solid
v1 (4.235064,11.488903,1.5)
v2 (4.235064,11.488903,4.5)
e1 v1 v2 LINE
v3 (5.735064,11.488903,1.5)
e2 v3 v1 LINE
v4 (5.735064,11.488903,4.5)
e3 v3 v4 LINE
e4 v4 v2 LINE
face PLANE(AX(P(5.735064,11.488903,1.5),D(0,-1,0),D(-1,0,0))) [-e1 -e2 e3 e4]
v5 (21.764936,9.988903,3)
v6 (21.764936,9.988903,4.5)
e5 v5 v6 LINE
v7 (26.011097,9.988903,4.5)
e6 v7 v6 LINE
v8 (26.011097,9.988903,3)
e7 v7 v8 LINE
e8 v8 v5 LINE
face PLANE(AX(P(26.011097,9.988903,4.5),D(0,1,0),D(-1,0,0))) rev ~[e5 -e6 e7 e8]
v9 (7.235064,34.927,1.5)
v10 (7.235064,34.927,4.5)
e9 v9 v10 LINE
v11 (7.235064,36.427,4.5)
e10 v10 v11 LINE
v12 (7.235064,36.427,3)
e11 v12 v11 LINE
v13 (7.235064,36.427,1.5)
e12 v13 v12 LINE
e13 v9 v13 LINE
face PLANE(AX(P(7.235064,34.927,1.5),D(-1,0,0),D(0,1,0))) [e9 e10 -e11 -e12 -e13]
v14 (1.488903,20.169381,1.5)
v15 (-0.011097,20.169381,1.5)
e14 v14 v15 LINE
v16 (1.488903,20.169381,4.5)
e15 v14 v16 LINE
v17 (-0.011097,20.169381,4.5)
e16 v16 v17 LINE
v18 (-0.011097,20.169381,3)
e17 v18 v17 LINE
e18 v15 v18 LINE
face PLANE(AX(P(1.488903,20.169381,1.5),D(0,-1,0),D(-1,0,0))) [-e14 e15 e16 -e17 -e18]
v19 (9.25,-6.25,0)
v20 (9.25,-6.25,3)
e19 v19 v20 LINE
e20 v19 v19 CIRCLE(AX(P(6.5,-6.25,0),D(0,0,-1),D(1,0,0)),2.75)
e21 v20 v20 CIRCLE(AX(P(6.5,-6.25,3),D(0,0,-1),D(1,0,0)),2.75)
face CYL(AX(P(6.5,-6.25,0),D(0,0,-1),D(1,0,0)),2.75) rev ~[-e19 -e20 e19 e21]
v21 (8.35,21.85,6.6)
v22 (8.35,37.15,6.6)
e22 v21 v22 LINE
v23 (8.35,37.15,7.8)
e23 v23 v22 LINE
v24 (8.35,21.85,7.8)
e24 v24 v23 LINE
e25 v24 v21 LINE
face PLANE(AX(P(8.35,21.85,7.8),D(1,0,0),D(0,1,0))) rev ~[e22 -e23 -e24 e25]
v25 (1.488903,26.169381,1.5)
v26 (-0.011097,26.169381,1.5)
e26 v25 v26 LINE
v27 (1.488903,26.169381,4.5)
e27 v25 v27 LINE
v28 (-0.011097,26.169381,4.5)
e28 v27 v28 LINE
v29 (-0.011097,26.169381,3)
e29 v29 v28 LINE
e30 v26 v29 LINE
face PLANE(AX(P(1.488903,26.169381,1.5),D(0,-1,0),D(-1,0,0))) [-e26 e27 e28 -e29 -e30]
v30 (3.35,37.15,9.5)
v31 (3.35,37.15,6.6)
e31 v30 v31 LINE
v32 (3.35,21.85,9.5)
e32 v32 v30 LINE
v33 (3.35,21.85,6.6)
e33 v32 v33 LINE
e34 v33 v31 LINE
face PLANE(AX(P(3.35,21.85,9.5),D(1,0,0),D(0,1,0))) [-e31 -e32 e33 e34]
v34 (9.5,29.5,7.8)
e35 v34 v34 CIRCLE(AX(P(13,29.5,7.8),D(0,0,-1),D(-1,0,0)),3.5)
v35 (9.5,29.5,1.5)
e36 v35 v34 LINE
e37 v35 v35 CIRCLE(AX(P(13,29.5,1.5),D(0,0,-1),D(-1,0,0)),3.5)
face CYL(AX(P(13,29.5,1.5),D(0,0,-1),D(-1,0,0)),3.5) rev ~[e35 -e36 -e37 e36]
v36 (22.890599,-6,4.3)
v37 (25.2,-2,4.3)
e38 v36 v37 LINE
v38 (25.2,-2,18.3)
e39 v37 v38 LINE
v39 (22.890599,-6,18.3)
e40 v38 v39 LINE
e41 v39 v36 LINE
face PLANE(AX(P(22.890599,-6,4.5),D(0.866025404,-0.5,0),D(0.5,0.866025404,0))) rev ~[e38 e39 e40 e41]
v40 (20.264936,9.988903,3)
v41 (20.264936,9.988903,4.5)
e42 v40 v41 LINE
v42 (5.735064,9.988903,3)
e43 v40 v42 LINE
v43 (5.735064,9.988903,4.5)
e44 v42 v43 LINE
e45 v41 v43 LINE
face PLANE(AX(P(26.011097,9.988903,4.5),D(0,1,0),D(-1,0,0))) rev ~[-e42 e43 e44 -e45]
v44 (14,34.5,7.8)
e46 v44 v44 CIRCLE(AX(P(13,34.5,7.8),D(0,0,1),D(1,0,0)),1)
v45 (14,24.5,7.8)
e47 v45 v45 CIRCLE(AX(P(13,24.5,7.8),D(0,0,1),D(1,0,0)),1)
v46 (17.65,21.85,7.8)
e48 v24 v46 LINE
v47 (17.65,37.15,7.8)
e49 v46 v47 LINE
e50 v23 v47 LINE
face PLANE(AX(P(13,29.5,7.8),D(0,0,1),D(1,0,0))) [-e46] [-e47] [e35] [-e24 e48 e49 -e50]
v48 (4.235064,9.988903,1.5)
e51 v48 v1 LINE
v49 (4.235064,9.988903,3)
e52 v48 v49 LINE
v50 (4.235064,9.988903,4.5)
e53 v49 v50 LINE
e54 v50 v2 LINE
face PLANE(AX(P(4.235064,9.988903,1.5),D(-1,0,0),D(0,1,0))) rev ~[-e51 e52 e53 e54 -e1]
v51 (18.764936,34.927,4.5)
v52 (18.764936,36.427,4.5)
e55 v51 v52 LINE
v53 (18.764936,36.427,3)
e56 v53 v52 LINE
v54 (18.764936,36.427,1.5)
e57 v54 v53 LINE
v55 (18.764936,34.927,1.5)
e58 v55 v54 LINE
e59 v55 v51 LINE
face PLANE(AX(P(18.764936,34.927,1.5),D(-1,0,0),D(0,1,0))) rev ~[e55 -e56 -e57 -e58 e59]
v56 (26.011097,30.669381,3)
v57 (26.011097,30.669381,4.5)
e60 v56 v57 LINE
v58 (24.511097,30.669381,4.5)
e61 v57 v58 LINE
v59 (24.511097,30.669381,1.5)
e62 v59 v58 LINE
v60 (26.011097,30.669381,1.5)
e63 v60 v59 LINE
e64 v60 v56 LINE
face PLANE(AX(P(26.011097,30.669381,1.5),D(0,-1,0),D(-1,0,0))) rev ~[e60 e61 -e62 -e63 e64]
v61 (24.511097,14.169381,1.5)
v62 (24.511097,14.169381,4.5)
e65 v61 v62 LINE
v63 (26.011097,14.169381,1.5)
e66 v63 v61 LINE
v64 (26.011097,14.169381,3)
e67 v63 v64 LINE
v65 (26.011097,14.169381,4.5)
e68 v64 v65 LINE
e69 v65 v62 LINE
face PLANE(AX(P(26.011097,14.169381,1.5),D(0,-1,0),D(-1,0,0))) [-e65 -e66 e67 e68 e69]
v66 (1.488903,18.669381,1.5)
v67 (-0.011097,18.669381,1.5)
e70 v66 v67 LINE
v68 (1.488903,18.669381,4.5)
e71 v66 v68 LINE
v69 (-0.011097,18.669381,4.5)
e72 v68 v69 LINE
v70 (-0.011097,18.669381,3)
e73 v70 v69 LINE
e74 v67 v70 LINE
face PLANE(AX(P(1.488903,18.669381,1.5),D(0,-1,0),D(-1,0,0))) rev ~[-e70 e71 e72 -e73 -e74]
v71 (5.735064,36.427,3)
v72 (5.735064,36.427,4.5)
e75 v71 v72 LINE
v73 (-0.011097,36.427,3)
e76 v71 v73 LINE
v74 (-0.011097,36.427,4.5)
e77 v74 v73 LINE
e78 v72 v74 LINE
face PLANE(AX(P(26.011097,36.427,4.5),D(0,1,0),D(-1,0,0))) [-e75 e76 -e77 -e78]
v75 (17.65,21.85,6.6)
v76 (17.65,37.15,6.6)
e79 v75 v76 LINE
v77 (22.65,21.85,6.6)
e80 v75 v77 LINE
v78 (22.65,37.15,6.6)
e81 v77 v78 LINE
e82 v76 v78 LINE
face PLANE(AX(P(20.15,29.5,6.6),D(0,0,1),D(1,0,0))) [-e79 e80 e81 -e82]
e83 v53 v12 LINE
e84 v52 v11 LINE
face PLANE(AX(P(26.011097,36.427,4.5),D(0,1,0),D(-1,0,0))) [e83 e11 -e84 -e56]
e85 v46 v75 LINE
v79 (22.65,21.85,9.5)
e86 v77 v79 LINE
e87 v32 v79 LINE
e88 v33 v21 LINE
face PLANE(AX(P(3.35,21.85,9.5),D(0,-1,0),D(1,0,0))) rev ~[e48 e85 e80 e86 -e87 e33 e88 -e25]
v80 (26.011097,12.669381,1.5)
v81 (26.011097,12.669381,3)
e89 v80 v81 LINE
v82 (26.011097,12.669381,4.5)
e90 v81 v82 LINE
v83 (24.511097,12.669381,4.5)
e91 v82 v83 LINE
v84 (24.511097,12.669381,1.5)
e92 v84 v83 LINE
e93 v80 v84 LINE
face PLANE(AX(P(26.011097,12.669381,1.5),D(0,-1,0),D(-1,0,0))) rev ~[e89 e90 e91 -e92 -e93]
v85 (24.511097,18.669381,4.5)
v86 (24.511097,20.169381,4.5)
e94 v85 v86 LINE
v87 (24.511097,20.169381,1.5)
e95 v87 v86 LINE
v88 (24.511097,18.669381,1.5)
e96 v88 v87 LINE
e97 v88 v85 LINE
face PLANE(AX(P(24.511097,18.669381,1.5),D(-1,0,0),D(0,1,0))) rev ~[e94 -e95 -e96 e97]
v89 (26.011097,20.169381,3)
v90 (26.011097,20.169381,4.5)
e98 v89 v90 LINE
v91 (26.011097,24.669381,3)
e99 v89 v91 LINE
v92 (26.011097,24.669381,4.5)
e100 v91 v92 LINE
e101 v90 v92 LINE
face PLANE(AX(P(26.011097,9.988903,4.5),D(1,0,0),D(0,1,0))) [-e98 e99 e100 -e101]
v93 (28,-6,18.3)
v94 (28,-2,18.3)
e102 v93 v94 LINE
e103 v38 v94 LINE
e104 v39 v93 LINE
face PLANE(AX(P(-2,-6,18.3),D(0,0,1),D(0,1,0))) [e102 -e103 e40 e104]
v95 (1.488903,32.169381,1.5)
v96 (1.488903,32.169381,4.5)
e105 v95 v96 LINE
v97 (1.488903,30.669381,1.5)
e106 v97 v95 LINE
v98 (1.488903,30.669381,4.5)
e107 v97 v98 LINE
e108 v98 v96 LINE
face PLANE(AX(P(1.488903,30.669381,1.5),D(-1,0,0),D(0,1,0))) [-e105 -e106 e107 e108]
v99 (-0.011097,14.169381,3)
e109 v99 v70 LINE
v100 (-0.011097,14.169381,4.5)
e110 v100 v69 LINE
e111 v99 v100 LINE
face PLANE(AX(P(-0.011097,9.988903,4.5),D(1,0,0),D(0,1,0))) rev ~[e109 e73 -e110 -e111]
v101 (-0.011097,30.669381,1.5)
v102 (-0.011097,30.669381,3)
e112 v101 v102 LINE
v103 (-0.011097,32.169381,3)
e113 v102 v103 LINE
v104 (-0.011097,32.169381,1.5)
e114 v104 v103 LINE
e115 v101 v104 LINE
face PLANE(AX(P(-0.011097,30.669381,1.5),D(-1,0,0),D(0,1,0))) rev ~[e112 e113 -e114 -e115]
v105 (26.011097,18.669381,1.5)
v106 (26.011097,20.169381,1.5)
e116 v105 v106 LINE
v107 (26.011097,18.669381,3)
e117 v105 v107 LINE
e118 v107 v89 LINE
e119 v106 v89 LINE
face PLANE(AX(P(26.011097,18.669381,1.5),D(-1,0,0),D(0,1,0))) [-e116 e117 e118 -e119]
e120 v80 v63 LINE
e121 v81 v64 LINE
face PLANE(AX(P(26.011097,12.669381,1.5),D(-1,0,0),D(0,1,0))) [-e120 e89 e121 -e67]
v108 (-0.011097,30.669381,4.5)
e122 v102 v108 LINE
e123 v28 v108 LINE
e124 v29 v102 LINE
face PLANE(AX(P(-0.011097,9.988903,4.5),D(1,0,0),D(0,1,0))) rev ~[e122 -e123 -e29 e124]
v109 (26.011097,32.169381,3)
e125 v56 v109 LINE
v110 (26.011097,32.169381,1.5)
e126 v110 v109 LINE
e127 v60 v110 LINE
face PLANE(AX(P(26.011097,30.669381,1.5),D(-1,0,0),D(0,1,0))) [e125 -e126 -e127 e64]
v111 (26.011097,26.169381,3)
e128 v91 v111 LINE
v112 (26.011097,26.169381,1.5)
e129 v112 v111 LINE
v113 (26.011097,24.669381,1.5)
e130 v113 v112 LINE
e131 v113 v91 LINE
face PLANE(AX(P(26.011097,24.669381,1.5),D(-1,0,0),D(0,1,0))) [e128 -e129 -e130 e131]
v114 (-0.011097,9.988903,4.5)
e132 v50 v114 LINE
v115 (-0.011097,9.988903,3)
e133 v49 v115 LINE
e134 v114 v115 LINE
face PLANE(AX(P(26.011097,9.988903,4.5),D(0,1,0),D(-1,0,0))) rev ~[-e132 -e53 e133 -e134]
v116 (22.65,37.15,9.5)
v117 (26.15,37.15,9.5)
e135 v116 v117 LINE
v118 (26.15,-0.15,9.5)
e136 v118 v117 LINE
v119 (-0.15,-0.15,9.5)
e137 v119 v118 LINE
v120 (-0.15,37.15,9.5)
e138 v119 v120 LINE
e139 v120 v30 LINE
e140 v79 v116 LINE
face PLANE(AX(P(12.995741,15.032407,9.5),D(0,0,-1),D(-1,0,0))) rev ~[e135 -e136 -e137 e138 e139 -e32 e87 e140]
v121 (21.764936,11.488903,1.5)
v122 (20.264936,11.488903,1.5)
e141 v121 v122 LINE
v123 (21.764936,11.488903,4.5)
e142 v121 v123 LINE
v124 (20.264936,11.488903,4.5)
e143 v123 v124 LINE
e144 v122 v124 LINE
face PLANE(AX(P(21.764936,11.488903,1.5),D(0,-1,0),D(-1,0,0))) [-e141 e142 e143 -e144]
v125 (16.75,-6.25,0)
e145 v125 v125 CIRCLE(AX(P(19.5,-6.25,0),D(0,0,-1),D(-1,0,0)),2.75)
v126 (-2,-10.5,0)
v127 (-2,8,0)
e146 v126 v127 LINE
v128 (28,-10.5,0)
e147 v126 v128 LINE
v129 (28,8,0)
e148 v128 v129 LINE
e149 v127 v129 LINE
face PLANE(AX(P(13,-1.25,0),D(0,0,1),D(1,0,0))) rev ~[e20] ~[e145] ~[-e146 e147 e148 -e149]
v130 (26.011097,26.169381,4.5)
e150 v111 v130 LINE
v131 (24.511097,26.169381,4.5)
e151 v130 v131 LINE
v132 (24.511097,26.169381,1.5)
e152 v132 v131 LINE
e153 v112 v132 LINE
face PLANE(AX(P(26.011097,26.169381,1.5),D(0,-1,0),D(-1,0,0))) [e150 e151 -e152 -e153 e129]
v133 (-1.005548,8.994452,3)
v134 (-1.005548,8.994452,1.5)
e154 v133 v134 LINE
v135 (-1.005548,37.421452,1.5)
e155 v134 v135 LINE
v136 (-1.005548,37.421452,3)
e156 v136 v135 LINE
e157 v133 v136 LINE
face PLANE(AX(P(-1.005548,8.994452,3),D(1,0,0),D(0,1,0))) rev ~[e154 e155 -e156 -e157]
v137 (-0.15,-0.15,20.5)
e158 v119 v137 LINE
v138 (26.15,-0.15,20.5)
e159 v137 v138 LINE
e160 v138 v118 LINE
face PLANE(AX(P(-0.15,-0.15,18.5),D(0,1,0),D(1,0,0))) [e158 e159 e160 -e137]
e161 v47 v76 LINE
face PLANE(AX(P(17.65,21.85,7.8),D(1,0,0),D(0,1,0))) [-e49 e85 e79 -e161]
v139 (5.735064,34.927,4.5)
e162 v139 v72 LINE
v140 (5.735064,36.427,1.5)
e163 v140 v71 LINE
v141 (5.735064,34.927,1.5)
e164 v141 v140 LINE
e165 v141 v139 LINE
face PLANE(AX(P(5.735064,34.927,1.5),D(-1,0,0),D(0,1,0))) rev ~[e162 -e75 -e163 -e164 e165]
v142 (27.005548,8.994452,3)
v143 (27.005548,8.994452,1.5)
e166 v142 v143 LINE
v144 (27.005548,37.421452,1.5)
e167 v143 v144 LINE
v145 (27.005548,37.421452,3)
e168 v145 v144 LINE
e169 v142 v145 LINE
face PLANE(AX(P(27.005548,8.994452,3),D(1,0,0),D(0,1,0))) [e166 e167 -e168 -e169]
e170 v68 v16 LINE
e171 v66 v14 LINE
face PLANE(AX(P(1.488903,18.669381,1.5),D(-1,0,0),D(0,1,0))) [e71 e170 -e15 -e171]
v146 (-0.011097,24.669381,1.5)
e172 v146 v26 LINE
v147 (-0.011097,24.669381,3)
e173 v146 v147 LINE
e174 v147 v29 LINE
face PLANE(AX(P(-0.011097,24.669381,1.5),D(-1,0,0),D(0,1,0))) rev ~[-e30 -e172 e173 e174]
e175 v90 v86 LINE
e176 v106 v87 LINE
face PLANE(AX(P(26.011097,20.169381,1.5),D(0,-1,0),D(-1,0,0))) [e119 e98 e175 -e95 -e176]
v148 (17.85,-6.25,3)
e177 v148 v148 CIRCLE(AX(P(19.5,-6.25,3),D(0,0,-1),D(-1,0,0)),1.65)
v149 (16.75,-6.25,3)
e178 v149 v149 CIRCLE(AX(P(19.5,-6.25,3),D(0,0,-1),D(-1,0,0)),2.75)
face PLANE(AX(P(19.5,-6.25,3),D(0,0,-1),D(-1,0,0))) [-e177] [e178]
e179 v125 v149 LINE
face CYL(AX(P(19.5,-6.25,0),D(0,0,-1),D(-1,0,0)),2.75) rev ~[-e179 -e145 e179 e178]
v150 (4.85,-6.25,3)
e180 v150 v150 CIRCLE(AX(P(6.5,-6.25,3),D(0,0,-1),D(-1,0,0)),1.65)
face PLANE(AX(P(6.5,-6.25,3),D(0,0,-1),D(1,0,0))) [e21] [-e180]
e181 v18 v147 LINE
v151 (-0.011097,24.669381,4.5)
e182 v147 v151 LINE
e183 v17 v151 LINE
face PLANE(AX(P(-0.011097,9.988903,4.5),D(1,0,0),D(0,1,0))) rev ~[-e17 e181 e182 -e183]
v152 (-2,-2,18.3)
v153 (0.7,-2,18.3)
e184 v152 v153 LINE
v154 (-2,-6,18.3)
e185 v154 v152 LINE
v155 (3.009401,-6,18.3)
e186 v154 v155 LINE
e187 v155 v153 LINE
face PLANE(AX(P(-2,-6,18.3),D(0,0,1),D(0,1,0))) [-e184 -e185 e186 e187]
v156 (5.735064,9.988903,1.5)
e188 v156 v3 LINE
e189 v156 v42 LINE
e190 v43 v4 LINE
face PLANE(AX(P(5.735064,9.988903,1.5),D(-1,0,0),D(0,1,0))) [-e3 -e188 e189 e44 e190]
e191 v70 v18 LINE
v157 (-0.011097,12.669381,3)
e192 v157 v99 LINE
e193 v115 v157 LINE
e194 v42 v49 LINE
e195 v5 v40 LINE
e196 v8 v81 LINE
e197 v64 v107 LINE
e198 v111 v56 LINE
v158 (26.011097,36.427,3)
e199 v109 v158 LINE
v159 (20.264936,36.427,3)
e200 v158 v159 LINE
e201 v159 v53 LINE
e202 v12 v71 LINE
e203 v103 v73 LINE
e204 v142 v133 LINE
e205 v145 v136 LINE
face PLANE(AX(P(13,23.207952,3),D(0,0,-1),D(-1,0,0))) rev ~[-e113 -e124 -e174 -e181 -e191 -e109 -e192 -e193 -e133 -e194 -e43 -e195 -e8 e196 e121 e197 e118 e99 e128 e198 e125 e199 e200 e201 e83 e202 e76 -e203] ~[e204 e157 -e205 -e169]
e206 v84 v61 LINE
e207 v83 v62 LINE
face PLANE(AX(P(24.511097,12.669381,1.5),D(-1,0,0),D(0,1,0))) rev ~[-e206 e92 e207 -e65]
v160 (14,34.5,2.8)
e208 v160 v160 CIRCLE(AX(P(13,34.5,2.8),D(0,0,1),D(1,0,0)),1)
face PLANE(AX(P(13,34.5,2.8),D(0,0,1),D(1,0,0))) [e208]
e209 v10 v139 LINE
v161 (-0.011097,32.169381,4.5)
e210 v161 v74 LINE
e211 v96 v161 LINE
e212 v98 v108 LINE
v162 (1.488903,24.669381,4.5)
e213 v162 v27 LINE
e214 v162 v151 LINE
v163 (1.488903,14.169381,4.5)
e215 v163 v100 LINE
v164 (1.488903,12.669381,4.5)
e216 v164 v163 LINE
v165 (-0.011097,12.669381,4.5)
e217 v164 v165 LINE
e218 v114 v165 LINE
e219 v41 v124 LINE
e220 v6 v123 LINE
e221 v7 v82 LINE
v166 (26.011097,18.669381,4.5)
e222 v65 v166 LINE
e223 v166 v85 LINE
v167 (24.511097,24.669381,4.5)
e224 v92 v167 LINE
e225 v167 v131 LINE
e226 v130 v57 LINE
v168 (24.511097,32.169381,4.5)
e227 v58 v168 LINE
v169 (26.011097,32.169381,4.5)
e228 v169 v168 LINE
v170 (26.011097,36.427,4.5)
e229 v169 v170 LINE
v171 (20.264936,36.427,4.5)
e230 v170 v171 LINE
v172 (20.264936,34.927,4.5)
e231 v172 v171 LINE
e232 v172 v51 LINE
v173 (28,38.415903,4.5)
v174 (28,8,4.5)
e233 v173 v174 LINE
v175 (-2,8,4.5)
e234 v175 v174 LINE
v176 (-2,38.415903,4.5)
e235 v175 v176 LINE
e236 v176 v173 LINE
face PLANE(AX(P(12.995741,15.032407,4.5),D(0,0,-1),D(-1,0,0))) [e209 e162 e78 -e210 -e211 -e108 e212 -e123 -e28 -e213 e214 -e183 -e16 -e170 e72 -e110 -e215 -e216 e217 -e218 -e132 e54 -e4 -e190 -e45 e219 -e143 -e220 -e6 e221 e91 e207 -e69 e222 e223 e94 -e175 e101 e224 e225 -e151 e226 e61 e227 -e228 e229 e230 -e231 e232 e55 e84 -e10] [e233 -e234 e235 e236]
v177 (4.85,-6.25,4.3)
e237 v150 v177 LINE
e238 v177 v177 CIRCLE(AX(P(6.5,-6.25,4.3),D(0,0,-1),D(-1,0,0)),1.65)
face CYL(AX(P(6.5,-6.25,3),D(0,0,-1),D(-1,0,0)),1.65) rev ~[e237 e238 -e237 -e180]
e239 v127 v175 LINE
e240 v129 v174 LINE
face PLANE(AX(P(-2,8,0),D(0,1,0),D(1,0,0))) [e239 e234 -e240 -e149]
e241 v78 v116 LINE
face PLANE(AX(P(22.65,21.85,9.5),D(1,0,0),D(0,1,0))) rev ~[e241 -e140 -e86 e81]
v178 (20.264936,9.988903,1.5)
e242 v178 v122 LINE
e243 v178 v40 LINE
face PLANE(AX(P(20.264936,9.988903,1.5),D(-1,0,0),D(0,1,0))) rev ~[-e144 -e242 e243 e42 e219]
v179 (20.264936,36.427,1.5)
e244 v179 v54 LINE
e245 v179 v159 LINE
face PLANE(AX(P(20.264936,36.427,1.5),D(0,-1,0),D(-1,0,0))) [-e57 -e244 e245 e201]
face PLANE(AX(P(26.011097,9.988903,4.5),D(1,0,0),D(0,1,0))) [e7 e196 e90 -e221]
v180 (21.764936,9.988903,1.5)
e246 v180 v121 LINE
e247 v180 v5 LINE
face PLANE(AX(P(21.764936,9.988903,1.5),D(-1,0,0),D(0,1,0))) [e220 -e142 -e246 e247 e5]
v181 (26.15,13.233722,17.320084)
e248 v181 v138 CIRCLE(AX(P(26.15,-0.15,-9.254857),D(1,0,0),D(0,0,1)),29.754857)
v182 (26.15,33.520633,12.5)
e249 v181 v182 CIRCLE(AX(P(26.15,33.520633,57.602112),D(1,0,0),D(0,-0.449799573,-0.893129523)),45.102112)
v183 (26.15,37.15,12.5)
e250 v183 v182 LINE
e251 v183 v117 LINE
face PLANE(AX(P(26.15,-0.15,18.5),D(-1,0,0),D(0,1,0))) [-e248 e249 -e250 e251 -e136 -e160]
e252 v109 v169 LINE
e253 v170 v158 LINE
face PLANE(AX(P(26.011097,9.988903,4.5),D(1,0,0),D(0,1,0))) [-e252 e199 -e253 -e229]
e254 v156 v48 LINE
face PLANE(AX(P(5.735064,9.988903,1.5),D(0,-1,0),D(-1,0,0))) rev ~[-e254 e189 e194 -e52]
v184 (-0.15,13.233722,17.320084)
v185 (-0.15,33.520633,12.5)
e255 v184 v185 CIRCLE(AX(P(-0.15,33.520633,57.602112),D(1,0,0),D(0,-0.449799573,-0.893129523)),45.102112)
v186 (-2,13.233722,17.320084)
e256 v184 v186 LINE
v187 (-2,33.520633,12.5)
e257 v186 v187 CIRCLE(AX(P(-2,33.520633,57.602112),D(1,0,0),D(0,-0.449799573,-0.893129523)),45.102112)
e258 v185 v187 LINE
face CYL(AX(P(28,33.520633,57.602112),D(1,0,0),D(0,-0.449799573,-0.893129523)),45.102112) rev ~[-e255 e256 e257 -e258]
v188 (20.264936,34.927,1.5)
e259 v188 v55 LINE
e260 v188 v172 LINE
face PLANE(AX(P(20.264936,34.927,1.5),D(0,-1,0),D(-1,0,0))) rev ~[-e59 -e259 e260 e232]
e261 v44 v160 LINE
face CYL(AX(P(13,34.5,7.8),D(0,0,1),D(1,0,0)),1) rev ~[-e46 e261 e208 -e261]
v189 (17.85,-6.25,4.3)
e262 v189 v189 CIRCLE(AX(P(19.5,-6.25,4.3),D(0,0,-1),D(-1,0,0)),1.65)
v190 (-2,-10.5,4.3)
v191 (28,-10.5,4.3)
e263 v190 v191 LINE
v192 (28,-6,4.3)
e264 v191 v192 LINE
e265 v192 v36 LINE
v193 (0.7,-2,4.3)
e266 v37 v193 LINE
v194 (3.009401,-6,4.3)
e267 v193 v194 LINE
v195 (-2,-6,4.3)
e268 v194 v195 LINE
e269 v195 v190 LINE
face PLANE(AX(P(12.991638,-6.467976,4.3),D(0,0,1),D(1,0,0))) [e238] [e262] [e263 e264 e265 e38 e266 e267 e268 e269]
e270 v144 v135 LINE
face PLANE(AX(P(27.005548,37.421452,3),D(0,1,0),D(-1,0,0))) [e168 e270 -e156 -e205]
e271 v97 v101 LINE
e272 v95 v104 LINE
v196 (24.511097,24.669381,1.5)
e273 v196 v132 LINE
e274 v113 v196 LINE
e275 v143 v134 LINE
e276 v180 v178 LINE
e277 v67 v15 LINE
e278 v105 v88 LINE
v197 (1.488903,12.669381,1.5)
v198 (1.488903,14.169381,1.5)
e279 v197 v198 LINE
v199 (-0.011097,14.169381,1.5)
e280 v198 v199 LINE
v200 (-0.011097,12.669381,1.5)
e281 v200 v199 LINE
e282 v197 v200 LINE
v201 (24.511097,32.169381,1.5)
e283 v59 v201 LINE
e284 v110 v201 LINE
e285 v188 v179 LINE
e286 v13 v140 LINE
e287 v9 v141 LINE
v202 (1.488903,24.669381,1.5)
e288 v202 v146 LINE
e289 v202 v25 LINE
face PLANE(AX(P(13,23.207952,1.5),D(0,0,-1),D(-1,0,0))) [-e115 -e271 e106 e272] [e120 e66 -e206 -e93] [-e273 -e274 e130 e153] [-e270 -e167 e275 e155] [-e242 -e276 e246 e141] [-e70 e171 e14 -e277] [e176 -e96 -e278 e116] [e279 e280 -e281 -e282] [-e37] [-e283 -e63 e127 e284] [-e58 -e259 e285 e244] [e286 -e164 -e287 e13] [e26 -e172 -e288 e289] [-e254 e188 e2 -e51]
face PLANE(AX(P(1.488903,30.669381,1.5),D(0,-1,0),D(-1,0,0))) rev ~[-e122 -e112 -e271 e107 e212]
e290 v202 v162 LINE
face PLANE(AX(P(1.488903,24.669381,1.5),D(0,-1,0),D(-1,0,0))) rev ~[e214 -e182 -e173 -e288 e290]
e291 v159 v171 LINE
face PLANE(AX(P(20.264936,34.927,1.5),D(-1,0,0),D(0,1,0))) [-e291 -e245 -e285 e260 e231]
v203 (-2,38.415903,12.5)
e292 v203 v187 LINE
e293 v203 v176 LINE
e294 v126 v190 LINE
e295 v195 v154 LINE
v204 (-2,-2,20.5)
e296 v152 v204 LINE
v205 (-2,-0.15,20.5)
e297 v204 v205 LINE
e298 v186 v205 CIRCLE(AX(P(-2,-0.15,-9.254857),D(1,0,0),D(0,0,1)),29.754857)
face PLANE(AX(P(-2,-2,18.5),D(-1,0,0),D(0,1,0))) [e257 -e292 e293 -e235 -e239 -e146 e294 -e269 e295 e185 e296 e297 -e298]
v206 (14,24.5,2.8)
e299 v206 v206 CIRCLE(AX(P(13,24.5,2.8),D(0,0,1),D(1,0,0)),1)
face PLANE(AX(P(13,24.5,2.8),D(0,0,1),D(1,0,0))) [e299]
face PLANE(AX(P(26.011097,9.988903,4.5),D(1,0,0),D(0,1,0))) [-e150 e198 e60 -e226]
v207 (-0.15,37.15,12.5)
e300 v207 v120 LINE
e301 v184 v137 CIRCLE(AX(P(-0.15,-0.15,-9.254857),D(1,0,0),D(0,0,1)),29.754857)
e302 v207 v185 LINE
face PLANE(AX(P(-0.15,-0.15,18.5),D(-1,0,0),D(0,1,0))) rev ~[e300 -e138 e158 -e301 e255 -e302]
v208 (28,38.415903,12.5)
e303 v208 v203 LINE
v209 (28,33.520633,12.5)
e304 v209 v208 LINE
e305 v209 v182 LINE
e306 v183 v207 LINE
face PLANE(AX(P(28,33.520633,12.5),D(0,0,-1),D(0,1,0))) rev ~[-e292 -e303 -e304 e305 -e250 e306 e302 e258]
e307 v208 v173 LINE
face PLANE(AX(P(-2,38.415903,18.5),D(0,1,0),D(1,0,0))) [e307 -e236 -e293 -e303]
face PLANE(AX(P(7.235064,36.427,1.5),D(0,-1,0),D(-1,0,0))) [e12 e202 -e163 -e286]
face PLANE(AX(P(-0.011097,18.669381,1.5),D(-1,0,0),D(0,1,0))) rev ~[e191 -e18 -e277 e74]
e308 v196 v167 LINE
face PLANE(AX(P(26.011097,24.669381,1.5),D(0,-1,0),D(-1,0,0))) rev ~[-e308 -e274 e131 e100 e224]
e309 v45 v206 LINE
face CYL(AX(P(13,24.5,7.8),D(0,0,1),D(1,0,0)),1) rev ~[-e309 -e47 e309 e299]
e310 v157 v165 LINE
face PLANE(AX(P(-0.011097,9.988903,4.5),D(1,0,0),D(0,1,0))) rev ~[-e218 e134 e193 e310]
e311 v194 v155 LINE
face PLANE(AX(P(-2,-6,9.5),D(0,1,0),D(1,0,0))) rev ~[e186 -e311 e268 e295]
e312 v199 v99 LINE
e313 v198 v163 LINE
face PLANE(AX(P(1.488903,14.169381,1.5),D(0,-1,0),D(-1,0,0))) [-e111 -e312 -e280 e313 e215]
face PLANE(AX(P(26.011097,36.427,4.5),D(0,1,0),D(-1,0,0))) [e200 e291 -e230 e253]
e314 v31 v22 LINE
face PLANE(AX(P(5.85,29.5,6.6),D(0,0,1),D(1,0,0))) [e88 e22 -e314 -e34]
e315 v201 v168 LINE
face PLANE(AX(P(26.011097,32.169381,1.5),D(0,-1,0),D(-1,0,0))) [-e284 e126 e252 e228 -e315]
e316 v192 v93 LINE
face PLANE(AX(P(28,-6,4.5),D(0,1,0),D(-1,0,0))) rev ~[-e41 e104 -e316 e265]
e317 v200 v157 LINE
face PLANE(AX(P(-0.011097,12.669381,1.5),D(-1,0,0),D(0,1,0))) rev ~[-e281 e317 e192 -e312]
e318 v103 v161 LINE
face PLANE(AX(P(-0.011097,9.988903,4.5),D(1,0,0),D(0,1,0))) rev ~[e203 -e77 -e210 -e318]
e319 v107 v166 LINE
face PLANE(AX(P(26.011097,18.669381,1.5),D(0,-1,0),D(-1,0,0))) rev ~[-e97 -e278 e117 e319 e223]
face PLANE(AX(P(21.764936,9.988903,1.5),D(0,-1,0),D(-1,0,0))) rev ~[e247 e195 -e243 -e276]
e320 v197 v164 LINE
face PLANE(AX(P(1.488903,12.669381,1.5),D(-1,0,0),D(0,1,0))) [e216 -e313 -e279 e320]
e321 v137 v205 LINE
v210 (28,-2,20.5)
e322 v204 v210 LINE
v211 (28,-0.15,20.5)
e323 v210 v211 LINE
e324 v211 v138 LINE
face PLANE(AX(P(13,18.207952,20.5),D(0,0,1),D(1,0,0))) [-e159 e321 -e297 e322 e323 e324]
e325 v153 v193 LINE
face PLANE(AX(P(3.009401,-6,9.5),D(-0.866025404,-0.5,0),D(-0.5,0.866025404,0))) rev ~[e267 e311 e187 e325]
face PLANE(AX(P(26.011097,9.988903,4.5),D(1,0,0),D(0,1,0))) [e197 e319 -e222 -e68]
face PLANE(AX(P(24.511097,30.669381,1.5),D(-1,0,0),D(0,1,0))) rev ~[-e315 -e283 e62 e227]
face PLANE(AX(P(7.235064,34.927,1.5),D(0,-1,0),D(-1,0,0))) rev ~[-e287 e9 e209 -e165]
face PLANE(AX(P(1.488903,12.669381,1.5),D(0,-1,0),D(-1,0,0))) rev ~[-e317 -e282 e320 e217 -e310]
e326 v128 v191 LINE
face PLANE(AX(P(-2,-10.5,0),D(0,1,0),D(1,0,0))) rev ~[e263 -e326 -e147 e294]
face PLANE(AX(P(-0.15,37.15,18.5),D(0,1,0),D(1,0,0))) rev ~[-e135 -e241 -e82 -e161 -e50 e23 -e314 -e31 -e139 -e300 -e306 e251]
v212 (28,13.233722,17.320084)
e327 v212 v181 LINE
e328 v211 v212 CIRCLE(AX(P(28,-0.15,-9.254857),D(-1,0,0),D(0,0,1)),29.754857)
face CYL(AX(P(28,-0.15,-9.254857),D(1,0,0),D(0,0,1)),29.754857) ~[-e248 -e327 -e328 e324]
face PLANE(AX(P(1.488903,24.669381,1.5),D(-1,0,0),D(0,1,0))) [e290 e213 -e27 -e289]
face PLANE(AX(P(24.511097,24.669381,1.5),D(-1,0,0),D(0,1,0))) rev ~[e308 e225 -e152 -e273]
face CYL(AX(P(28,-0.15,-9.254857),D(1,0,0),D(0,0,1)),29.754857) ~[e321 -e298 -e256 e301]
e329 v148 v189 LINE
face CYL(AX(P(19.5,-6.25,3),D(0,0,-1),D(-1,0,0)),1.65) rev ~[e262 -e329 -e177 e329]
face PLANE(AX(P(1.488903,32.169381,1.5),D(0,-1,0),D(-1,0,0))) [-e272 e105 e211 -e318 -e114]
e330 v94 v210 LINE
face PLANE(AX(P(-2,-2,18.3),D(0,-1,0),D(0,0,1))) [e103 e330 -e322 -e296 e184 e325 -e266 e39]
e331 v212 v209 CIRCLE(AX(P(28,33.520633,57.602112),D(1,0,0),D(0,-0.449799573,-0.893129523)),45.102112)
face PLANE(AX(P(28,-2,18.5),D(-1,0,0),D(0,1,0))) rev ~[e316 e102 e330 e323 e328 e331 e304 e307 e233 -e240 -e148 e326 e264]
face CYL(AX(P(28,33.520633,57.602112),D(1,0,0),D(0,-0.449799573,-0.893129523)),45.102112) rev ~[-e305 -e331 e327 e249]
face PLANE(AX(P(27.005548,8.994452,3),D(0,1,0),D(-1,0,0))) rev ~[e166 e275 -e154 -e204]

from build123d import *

# Parameters (mm, degrees)
SKETCH2_W               = 30
SKETCH2_H               = 18.5
BOSS_EXTRUDE1_DEPTH     = 4.5
BOSS_EXTRUDE2_DEPTH     = 5
SKETCH4_W               = 26.3
SKETCH4_H               = 37.3
BOSS_EXTRUDE3_DEPTH     = 9
SKETCH5_W               = 30
SKETCH5_H               = 40.415903306
SKETCH5_W_2             = 26.3
SKETCH5_H_2             = 37.3
BOSS_EXTRUDE4_DEPTH     = 2
CUT_EXTRUDE1_DEPTH      = 53.877515324
SKETCH7_R               = 2.75
CUT_EXTRUDE2_DEPTH      = 3
SKETCH8_R               = 1.65
CUT_EXTRUDE3_DEPTH      = 51.656012741
SKETCH9_W               = 0.2
SKETCH9_H               = 4
TOLERANCE_CUT1_DEPTH    = 53.877515324
TOLERANCE_CUT2_DEPTH    = 0.2
SKETCH12_W              = 26.022193388
SKETCH12_H              = 26.438096694
BOSS_EXTRUDE6_DEPTH     = 1.5
SKETCH13_W              = 28.011096694
SKETCH13_H              = 28.427
BOSS_EXTRUDE7_DEPTH     = 1.5
SKETCH16_W              = 1.5
SKETCH16_H              = 1.5
SILICONE_CHANNELS_DEPTH = 3
SKETCH19_W              = 19.3
SKETCH19_H              = 15.3
PCB_CAVITY_DEPTH        = 1.7
SKETCH15_R              = 1
PCB_MOUNT_HOLES_DEPTH   = 5
SKETCH20_W              = 5
SKETCH20_H              = 15.3
SOLDER_CAVITY_DEPTH     = 1.2
SKETCH21_R              = 0.5
AUDIO_CHANNEL_DEPTH     = 50.204386256
SKETCH22_R              = 3.5
CUT_EXTRUDE13_DEPTH     = 52.193570171


with BuildPart() as part:
    # Sketch2 → Boss-Extrude1 (new body)
    with BuildSketch(Plane.XY):
        with Locations((13, -1.25)):
            Rectangle(SKETCH2_W, SKETCH2_H)
    extrude(amount=BOSS_EXTRUDE1_DEPTH)

    # Sketch3 → Boss-Extrude2 (add)
    with BuildSketch(Plane.XY.offset(4.5)):
        Polygon((-2, 38.415903306), (28, 38.415903306), (28, -6), (22.890598923, -6), (25.2, -2), (0.7, -2), (3.009401077, -6), (-2, -6), align=None)
    extrude(amount=BOSS_EXTRUDE2_DEPTH)

    # Sketch4 → Boss-Extrude3 (add)
    with BuildSketch(Plane.XY.offset(9.5)):
        Polygon((-2, 38.415903306), (-2, -6), (3.009401077, -6), (0.7, -2), (25.2, -2), (22.890598923, -6), (28, -6), (28, 38.415903306), align=None)
        with Locations((13, 18.5)):
            Rectangle(SKETCH4_W, SKETCH4_H, mode=Mode.SUBTRACT)
    extrude(amount=BOSS_EXTRUDE3_DEPTH)

    # Sketch5 → Boss-Extrude4 (add)
    with BuildSketch(Plane.XY.offset(18.5)):
        with Locations((13, 18.207951653)):
            Rectangle(SKETCH5_W, SKETCH5_H)
        with Locations((13, 18.5)):
            Rectangle(SKETCH5_W_2, SKETCH5_H_2, mode=Mode.SUBTRACT)
    extrude(amount=BOSS_EXTRUDE4_DEPTH)

    # Sketch6 → Cut-Extrude1 (cut, through all)
    with BuildSketch(Plane(origin=(28, 0, 0), x_dir=(0, 0, -1), z_dir=(1, 0, 0))):
        with BuildLine():
            Line((-12.5, 38.415903306), (-29.920257518, 38.415903306))
            Line((-29.920257518, 38.415903306), (-29.920257518, -0.15))
            Line((-29.920257518, -0.15), (-20.5, -0.15))
            ThreePointArc((-20.5, -0.15), (-19.694107493, 6.728151663), (-17.320084205, 13.23372208))
            ThreePointArc((-17.320084205, 13.23372208), (-13.721563712, 23.094799932), (-12.5, 33.520632668))
            Line((-12.5, 33.520632668), (-12.5, 38.415903306))
        make_face()
    extrude(amount=-CUT_EXTRUDE1_DEPTH, mode=Mode.SUBTRACT)

    # Sketch7 → Cut-Extrude2 (cut)
    with BuildSketch(Plane(origin=(0, 0, 0), x_dir=(-1, 0, 0), z_dir=(0, 0, -1))):
        with Locations((-19.5, -6.25)):
            Circle(SKETCH7_R)
        with Locations(Location((-6.5, -6.25, 0), (0, 0, 180))):
            Circle(SKETCH7_R)
    extrude(amount=-CUT_EXTRUDE2_DEPTH, mode=Mode.SUBTRACT)

    # Sketch8 → Cut-Extrude3 (cut, through all)
    with BuildSketch(Plane(origin=(0, 0, 3), x_dir=(-1, 0, 0), z_dir=(0, 0, -1))):
        with Locations((-19.5, -6.25)):
            Circle(SKETCH8_R)
        with Locations((-6.5, -6.25)):
            Circle(SKETCH8_R)
    extrude(amount=-CUT_EXTRUDE3_DEPTH, mode=Mode.SUBTRACT)

    # Sketch9 → tolerance_cut1 (cut, through all)
    with BuildSketch(Plane.ZY.offset(2)):
        with Locations((18.4, -4)):
            Rectangle(SKETCH9_W, SKETCH9_H)
    extrude(amount=-TOLERANCE_CUT1_DEPTH, mode=Mode.SUBTRACT)

    # Sketch10 → tolerance_cut2 (cut)
    with BuildSketch(Plane.XY.offset(4.5)):
        Polygon((28, -6), (22.890598923, -6), (25.2, -2), (0.7, -2), (3.009401077, -6), (-2, -6), (-2, -10.5), (28, -10.5), align=None)
    extrude(amount=-TOLERANCE_CUT2_DEPTH, mode=Mode.SUBTRACT)

    # Sketch12 → Boss-Extrude6 (add)
    with BuildSketch(Plane(origin=(0, 0, 4.5), x_dir=(-1, 0, 0), z_dir=(0, 0, -1))):
        with Locations((-13, 23.207951653)):
            Rectangle(SKETCH12_W, SKETCH12_H)
    extrude(amount=BOSS_EXTRUDE6_DEPTH)

    # Sketch13 → Boss-Extrude7 (add)
    with BuildSketch(Plane(origin=(0, 0, 3), x_dir=(-1, 0, 0), z_dir=(0, 0, -1))):
        with Locations((-13, 23.207951653)):
            Rectangle(SKETCH13_W, SKETCH13_H)
    extrude(amount=BOSS_EXTRUDE7_DEPTH)

    # Sketch16 → silicone_channels (cut)
    with BuildSketch(Plane(origin=(0, 0, 1.5), x_dir=(-1, 0, 0), z_dir=(0, 0, -1))):
        with Locations((-25.261096694, 25.419380652)):
            Rectangle(SKETCH16_W, SKETCH16_H)
        with Locations((-25.261096694, 31.419380652)):
            Rectangle(SKETCH16_W, SKETCH16_H)
        with Locations((-25.261096694, 19.419380652)):
            Rectangle(SKETCH16_W, SKETCH16_H)
        with Locations((-25.261096694, 13.419380652)):
            Rectangle(SKETCH16_W, SKETCH16_H)
        with Locations((-21.014935628, 10.738903306)):
            Rectangle(SKETCH16_W, SKETCH16_H)
        with Locations((-19.514935628, 35.677)):
            Rectangle(SKETCH16_W, SKETCH16_H)
        with Locations((-4.985064372, 10.738903306)):
            Rectangle(SKETCH16_W, SKETCH16_H)
        with Locations((-0.738903306, 13.419380652)):
            Rectangle(SKETCH16_W, SKETCH16_H)
        with Locations((-0.738903306, 19.419380652)):
            Rectangle(SKETCH16_W, SKETCH16_H)
        with Locations((-0.738903306, 25.419380652)):
            Rectangle(SKETCH16_W, SKETCH16_H)
        with Locations((-0.738903306, 31.419380652)):
            Rectangle(SKETCH16_W, SKETCH16_H)
        with Locations((-6.485064372, 35.677)):
            Rectangle(SKETCH16_W, SKETCH16_H)
    extrude(amount=-SILICONE_CHANNELS_DEPTH, mode=Mode.SUBTRACT)

    # Sketch19 → pcb_cavity (cut)
    with BuildSketch(Plane.XY.offset(9.5)):
        with Locations((13, 29.5)):
            Rectangle(SKETCH19_W, SKETCH19_H)
    extrude(amount=-PCB_CAVITY_DEPTH, mode=Mode.SUBTRACT)

    # Sketch15 → pcb_mount_holes (cut)
    with BuildSketch(Plane.XY.offset(7.8)):
        with Locations((13, 34.5)):
            Circle(SKETCH15_R)
        with Locations((13, 24.5)):
            Circle(SKETCH15_R)
    extrude(amount=-PCB_MOUNT_HOLES_DEPTH, mode=Mode.SUBTRACT)

    # Sketch20 → solder_cavity (cut)
    with BuildSketch(Plane.XY.offset(7.8)):
        with Locations((5.85, 29.5)):
            Rectangle(SKETCH20_W, SKETCH20_H)
        with Locations((20.15, 29.5)):
            Rectangle(SKETCH20_W, SKETCH20_H)
    extrude(amount=-SOLDER_CAVITY_DEPTH, mode=Mode.SUBTRACT)

    # Sketch21 → audio_channel (cut, through all)
    with BuildSketch(Plane.XY.offset(7.8)):
        with Locations((13, 29.5)):
            Circle(SKETCH21_R)
    extrude(amount=-AUDIO_CHANNEL_DEPTH, mode=Mode.SUBTRACT)

    # Sketch22 → Cut-Extrude13 (cut, through all)
    with BuildSketch(Plane(origin=(0, 0, 1.5), x_dir=(-1, 0, 0), z_dir=(0, 0, -1))):
        with Locations((-13, 29.5)):
            Circle(SKETCH22_R)
    extrude(amount=-CUT_EXTRUDE13_DEPTH, mode=Mode.SUBTRACT)


solid = part.part
